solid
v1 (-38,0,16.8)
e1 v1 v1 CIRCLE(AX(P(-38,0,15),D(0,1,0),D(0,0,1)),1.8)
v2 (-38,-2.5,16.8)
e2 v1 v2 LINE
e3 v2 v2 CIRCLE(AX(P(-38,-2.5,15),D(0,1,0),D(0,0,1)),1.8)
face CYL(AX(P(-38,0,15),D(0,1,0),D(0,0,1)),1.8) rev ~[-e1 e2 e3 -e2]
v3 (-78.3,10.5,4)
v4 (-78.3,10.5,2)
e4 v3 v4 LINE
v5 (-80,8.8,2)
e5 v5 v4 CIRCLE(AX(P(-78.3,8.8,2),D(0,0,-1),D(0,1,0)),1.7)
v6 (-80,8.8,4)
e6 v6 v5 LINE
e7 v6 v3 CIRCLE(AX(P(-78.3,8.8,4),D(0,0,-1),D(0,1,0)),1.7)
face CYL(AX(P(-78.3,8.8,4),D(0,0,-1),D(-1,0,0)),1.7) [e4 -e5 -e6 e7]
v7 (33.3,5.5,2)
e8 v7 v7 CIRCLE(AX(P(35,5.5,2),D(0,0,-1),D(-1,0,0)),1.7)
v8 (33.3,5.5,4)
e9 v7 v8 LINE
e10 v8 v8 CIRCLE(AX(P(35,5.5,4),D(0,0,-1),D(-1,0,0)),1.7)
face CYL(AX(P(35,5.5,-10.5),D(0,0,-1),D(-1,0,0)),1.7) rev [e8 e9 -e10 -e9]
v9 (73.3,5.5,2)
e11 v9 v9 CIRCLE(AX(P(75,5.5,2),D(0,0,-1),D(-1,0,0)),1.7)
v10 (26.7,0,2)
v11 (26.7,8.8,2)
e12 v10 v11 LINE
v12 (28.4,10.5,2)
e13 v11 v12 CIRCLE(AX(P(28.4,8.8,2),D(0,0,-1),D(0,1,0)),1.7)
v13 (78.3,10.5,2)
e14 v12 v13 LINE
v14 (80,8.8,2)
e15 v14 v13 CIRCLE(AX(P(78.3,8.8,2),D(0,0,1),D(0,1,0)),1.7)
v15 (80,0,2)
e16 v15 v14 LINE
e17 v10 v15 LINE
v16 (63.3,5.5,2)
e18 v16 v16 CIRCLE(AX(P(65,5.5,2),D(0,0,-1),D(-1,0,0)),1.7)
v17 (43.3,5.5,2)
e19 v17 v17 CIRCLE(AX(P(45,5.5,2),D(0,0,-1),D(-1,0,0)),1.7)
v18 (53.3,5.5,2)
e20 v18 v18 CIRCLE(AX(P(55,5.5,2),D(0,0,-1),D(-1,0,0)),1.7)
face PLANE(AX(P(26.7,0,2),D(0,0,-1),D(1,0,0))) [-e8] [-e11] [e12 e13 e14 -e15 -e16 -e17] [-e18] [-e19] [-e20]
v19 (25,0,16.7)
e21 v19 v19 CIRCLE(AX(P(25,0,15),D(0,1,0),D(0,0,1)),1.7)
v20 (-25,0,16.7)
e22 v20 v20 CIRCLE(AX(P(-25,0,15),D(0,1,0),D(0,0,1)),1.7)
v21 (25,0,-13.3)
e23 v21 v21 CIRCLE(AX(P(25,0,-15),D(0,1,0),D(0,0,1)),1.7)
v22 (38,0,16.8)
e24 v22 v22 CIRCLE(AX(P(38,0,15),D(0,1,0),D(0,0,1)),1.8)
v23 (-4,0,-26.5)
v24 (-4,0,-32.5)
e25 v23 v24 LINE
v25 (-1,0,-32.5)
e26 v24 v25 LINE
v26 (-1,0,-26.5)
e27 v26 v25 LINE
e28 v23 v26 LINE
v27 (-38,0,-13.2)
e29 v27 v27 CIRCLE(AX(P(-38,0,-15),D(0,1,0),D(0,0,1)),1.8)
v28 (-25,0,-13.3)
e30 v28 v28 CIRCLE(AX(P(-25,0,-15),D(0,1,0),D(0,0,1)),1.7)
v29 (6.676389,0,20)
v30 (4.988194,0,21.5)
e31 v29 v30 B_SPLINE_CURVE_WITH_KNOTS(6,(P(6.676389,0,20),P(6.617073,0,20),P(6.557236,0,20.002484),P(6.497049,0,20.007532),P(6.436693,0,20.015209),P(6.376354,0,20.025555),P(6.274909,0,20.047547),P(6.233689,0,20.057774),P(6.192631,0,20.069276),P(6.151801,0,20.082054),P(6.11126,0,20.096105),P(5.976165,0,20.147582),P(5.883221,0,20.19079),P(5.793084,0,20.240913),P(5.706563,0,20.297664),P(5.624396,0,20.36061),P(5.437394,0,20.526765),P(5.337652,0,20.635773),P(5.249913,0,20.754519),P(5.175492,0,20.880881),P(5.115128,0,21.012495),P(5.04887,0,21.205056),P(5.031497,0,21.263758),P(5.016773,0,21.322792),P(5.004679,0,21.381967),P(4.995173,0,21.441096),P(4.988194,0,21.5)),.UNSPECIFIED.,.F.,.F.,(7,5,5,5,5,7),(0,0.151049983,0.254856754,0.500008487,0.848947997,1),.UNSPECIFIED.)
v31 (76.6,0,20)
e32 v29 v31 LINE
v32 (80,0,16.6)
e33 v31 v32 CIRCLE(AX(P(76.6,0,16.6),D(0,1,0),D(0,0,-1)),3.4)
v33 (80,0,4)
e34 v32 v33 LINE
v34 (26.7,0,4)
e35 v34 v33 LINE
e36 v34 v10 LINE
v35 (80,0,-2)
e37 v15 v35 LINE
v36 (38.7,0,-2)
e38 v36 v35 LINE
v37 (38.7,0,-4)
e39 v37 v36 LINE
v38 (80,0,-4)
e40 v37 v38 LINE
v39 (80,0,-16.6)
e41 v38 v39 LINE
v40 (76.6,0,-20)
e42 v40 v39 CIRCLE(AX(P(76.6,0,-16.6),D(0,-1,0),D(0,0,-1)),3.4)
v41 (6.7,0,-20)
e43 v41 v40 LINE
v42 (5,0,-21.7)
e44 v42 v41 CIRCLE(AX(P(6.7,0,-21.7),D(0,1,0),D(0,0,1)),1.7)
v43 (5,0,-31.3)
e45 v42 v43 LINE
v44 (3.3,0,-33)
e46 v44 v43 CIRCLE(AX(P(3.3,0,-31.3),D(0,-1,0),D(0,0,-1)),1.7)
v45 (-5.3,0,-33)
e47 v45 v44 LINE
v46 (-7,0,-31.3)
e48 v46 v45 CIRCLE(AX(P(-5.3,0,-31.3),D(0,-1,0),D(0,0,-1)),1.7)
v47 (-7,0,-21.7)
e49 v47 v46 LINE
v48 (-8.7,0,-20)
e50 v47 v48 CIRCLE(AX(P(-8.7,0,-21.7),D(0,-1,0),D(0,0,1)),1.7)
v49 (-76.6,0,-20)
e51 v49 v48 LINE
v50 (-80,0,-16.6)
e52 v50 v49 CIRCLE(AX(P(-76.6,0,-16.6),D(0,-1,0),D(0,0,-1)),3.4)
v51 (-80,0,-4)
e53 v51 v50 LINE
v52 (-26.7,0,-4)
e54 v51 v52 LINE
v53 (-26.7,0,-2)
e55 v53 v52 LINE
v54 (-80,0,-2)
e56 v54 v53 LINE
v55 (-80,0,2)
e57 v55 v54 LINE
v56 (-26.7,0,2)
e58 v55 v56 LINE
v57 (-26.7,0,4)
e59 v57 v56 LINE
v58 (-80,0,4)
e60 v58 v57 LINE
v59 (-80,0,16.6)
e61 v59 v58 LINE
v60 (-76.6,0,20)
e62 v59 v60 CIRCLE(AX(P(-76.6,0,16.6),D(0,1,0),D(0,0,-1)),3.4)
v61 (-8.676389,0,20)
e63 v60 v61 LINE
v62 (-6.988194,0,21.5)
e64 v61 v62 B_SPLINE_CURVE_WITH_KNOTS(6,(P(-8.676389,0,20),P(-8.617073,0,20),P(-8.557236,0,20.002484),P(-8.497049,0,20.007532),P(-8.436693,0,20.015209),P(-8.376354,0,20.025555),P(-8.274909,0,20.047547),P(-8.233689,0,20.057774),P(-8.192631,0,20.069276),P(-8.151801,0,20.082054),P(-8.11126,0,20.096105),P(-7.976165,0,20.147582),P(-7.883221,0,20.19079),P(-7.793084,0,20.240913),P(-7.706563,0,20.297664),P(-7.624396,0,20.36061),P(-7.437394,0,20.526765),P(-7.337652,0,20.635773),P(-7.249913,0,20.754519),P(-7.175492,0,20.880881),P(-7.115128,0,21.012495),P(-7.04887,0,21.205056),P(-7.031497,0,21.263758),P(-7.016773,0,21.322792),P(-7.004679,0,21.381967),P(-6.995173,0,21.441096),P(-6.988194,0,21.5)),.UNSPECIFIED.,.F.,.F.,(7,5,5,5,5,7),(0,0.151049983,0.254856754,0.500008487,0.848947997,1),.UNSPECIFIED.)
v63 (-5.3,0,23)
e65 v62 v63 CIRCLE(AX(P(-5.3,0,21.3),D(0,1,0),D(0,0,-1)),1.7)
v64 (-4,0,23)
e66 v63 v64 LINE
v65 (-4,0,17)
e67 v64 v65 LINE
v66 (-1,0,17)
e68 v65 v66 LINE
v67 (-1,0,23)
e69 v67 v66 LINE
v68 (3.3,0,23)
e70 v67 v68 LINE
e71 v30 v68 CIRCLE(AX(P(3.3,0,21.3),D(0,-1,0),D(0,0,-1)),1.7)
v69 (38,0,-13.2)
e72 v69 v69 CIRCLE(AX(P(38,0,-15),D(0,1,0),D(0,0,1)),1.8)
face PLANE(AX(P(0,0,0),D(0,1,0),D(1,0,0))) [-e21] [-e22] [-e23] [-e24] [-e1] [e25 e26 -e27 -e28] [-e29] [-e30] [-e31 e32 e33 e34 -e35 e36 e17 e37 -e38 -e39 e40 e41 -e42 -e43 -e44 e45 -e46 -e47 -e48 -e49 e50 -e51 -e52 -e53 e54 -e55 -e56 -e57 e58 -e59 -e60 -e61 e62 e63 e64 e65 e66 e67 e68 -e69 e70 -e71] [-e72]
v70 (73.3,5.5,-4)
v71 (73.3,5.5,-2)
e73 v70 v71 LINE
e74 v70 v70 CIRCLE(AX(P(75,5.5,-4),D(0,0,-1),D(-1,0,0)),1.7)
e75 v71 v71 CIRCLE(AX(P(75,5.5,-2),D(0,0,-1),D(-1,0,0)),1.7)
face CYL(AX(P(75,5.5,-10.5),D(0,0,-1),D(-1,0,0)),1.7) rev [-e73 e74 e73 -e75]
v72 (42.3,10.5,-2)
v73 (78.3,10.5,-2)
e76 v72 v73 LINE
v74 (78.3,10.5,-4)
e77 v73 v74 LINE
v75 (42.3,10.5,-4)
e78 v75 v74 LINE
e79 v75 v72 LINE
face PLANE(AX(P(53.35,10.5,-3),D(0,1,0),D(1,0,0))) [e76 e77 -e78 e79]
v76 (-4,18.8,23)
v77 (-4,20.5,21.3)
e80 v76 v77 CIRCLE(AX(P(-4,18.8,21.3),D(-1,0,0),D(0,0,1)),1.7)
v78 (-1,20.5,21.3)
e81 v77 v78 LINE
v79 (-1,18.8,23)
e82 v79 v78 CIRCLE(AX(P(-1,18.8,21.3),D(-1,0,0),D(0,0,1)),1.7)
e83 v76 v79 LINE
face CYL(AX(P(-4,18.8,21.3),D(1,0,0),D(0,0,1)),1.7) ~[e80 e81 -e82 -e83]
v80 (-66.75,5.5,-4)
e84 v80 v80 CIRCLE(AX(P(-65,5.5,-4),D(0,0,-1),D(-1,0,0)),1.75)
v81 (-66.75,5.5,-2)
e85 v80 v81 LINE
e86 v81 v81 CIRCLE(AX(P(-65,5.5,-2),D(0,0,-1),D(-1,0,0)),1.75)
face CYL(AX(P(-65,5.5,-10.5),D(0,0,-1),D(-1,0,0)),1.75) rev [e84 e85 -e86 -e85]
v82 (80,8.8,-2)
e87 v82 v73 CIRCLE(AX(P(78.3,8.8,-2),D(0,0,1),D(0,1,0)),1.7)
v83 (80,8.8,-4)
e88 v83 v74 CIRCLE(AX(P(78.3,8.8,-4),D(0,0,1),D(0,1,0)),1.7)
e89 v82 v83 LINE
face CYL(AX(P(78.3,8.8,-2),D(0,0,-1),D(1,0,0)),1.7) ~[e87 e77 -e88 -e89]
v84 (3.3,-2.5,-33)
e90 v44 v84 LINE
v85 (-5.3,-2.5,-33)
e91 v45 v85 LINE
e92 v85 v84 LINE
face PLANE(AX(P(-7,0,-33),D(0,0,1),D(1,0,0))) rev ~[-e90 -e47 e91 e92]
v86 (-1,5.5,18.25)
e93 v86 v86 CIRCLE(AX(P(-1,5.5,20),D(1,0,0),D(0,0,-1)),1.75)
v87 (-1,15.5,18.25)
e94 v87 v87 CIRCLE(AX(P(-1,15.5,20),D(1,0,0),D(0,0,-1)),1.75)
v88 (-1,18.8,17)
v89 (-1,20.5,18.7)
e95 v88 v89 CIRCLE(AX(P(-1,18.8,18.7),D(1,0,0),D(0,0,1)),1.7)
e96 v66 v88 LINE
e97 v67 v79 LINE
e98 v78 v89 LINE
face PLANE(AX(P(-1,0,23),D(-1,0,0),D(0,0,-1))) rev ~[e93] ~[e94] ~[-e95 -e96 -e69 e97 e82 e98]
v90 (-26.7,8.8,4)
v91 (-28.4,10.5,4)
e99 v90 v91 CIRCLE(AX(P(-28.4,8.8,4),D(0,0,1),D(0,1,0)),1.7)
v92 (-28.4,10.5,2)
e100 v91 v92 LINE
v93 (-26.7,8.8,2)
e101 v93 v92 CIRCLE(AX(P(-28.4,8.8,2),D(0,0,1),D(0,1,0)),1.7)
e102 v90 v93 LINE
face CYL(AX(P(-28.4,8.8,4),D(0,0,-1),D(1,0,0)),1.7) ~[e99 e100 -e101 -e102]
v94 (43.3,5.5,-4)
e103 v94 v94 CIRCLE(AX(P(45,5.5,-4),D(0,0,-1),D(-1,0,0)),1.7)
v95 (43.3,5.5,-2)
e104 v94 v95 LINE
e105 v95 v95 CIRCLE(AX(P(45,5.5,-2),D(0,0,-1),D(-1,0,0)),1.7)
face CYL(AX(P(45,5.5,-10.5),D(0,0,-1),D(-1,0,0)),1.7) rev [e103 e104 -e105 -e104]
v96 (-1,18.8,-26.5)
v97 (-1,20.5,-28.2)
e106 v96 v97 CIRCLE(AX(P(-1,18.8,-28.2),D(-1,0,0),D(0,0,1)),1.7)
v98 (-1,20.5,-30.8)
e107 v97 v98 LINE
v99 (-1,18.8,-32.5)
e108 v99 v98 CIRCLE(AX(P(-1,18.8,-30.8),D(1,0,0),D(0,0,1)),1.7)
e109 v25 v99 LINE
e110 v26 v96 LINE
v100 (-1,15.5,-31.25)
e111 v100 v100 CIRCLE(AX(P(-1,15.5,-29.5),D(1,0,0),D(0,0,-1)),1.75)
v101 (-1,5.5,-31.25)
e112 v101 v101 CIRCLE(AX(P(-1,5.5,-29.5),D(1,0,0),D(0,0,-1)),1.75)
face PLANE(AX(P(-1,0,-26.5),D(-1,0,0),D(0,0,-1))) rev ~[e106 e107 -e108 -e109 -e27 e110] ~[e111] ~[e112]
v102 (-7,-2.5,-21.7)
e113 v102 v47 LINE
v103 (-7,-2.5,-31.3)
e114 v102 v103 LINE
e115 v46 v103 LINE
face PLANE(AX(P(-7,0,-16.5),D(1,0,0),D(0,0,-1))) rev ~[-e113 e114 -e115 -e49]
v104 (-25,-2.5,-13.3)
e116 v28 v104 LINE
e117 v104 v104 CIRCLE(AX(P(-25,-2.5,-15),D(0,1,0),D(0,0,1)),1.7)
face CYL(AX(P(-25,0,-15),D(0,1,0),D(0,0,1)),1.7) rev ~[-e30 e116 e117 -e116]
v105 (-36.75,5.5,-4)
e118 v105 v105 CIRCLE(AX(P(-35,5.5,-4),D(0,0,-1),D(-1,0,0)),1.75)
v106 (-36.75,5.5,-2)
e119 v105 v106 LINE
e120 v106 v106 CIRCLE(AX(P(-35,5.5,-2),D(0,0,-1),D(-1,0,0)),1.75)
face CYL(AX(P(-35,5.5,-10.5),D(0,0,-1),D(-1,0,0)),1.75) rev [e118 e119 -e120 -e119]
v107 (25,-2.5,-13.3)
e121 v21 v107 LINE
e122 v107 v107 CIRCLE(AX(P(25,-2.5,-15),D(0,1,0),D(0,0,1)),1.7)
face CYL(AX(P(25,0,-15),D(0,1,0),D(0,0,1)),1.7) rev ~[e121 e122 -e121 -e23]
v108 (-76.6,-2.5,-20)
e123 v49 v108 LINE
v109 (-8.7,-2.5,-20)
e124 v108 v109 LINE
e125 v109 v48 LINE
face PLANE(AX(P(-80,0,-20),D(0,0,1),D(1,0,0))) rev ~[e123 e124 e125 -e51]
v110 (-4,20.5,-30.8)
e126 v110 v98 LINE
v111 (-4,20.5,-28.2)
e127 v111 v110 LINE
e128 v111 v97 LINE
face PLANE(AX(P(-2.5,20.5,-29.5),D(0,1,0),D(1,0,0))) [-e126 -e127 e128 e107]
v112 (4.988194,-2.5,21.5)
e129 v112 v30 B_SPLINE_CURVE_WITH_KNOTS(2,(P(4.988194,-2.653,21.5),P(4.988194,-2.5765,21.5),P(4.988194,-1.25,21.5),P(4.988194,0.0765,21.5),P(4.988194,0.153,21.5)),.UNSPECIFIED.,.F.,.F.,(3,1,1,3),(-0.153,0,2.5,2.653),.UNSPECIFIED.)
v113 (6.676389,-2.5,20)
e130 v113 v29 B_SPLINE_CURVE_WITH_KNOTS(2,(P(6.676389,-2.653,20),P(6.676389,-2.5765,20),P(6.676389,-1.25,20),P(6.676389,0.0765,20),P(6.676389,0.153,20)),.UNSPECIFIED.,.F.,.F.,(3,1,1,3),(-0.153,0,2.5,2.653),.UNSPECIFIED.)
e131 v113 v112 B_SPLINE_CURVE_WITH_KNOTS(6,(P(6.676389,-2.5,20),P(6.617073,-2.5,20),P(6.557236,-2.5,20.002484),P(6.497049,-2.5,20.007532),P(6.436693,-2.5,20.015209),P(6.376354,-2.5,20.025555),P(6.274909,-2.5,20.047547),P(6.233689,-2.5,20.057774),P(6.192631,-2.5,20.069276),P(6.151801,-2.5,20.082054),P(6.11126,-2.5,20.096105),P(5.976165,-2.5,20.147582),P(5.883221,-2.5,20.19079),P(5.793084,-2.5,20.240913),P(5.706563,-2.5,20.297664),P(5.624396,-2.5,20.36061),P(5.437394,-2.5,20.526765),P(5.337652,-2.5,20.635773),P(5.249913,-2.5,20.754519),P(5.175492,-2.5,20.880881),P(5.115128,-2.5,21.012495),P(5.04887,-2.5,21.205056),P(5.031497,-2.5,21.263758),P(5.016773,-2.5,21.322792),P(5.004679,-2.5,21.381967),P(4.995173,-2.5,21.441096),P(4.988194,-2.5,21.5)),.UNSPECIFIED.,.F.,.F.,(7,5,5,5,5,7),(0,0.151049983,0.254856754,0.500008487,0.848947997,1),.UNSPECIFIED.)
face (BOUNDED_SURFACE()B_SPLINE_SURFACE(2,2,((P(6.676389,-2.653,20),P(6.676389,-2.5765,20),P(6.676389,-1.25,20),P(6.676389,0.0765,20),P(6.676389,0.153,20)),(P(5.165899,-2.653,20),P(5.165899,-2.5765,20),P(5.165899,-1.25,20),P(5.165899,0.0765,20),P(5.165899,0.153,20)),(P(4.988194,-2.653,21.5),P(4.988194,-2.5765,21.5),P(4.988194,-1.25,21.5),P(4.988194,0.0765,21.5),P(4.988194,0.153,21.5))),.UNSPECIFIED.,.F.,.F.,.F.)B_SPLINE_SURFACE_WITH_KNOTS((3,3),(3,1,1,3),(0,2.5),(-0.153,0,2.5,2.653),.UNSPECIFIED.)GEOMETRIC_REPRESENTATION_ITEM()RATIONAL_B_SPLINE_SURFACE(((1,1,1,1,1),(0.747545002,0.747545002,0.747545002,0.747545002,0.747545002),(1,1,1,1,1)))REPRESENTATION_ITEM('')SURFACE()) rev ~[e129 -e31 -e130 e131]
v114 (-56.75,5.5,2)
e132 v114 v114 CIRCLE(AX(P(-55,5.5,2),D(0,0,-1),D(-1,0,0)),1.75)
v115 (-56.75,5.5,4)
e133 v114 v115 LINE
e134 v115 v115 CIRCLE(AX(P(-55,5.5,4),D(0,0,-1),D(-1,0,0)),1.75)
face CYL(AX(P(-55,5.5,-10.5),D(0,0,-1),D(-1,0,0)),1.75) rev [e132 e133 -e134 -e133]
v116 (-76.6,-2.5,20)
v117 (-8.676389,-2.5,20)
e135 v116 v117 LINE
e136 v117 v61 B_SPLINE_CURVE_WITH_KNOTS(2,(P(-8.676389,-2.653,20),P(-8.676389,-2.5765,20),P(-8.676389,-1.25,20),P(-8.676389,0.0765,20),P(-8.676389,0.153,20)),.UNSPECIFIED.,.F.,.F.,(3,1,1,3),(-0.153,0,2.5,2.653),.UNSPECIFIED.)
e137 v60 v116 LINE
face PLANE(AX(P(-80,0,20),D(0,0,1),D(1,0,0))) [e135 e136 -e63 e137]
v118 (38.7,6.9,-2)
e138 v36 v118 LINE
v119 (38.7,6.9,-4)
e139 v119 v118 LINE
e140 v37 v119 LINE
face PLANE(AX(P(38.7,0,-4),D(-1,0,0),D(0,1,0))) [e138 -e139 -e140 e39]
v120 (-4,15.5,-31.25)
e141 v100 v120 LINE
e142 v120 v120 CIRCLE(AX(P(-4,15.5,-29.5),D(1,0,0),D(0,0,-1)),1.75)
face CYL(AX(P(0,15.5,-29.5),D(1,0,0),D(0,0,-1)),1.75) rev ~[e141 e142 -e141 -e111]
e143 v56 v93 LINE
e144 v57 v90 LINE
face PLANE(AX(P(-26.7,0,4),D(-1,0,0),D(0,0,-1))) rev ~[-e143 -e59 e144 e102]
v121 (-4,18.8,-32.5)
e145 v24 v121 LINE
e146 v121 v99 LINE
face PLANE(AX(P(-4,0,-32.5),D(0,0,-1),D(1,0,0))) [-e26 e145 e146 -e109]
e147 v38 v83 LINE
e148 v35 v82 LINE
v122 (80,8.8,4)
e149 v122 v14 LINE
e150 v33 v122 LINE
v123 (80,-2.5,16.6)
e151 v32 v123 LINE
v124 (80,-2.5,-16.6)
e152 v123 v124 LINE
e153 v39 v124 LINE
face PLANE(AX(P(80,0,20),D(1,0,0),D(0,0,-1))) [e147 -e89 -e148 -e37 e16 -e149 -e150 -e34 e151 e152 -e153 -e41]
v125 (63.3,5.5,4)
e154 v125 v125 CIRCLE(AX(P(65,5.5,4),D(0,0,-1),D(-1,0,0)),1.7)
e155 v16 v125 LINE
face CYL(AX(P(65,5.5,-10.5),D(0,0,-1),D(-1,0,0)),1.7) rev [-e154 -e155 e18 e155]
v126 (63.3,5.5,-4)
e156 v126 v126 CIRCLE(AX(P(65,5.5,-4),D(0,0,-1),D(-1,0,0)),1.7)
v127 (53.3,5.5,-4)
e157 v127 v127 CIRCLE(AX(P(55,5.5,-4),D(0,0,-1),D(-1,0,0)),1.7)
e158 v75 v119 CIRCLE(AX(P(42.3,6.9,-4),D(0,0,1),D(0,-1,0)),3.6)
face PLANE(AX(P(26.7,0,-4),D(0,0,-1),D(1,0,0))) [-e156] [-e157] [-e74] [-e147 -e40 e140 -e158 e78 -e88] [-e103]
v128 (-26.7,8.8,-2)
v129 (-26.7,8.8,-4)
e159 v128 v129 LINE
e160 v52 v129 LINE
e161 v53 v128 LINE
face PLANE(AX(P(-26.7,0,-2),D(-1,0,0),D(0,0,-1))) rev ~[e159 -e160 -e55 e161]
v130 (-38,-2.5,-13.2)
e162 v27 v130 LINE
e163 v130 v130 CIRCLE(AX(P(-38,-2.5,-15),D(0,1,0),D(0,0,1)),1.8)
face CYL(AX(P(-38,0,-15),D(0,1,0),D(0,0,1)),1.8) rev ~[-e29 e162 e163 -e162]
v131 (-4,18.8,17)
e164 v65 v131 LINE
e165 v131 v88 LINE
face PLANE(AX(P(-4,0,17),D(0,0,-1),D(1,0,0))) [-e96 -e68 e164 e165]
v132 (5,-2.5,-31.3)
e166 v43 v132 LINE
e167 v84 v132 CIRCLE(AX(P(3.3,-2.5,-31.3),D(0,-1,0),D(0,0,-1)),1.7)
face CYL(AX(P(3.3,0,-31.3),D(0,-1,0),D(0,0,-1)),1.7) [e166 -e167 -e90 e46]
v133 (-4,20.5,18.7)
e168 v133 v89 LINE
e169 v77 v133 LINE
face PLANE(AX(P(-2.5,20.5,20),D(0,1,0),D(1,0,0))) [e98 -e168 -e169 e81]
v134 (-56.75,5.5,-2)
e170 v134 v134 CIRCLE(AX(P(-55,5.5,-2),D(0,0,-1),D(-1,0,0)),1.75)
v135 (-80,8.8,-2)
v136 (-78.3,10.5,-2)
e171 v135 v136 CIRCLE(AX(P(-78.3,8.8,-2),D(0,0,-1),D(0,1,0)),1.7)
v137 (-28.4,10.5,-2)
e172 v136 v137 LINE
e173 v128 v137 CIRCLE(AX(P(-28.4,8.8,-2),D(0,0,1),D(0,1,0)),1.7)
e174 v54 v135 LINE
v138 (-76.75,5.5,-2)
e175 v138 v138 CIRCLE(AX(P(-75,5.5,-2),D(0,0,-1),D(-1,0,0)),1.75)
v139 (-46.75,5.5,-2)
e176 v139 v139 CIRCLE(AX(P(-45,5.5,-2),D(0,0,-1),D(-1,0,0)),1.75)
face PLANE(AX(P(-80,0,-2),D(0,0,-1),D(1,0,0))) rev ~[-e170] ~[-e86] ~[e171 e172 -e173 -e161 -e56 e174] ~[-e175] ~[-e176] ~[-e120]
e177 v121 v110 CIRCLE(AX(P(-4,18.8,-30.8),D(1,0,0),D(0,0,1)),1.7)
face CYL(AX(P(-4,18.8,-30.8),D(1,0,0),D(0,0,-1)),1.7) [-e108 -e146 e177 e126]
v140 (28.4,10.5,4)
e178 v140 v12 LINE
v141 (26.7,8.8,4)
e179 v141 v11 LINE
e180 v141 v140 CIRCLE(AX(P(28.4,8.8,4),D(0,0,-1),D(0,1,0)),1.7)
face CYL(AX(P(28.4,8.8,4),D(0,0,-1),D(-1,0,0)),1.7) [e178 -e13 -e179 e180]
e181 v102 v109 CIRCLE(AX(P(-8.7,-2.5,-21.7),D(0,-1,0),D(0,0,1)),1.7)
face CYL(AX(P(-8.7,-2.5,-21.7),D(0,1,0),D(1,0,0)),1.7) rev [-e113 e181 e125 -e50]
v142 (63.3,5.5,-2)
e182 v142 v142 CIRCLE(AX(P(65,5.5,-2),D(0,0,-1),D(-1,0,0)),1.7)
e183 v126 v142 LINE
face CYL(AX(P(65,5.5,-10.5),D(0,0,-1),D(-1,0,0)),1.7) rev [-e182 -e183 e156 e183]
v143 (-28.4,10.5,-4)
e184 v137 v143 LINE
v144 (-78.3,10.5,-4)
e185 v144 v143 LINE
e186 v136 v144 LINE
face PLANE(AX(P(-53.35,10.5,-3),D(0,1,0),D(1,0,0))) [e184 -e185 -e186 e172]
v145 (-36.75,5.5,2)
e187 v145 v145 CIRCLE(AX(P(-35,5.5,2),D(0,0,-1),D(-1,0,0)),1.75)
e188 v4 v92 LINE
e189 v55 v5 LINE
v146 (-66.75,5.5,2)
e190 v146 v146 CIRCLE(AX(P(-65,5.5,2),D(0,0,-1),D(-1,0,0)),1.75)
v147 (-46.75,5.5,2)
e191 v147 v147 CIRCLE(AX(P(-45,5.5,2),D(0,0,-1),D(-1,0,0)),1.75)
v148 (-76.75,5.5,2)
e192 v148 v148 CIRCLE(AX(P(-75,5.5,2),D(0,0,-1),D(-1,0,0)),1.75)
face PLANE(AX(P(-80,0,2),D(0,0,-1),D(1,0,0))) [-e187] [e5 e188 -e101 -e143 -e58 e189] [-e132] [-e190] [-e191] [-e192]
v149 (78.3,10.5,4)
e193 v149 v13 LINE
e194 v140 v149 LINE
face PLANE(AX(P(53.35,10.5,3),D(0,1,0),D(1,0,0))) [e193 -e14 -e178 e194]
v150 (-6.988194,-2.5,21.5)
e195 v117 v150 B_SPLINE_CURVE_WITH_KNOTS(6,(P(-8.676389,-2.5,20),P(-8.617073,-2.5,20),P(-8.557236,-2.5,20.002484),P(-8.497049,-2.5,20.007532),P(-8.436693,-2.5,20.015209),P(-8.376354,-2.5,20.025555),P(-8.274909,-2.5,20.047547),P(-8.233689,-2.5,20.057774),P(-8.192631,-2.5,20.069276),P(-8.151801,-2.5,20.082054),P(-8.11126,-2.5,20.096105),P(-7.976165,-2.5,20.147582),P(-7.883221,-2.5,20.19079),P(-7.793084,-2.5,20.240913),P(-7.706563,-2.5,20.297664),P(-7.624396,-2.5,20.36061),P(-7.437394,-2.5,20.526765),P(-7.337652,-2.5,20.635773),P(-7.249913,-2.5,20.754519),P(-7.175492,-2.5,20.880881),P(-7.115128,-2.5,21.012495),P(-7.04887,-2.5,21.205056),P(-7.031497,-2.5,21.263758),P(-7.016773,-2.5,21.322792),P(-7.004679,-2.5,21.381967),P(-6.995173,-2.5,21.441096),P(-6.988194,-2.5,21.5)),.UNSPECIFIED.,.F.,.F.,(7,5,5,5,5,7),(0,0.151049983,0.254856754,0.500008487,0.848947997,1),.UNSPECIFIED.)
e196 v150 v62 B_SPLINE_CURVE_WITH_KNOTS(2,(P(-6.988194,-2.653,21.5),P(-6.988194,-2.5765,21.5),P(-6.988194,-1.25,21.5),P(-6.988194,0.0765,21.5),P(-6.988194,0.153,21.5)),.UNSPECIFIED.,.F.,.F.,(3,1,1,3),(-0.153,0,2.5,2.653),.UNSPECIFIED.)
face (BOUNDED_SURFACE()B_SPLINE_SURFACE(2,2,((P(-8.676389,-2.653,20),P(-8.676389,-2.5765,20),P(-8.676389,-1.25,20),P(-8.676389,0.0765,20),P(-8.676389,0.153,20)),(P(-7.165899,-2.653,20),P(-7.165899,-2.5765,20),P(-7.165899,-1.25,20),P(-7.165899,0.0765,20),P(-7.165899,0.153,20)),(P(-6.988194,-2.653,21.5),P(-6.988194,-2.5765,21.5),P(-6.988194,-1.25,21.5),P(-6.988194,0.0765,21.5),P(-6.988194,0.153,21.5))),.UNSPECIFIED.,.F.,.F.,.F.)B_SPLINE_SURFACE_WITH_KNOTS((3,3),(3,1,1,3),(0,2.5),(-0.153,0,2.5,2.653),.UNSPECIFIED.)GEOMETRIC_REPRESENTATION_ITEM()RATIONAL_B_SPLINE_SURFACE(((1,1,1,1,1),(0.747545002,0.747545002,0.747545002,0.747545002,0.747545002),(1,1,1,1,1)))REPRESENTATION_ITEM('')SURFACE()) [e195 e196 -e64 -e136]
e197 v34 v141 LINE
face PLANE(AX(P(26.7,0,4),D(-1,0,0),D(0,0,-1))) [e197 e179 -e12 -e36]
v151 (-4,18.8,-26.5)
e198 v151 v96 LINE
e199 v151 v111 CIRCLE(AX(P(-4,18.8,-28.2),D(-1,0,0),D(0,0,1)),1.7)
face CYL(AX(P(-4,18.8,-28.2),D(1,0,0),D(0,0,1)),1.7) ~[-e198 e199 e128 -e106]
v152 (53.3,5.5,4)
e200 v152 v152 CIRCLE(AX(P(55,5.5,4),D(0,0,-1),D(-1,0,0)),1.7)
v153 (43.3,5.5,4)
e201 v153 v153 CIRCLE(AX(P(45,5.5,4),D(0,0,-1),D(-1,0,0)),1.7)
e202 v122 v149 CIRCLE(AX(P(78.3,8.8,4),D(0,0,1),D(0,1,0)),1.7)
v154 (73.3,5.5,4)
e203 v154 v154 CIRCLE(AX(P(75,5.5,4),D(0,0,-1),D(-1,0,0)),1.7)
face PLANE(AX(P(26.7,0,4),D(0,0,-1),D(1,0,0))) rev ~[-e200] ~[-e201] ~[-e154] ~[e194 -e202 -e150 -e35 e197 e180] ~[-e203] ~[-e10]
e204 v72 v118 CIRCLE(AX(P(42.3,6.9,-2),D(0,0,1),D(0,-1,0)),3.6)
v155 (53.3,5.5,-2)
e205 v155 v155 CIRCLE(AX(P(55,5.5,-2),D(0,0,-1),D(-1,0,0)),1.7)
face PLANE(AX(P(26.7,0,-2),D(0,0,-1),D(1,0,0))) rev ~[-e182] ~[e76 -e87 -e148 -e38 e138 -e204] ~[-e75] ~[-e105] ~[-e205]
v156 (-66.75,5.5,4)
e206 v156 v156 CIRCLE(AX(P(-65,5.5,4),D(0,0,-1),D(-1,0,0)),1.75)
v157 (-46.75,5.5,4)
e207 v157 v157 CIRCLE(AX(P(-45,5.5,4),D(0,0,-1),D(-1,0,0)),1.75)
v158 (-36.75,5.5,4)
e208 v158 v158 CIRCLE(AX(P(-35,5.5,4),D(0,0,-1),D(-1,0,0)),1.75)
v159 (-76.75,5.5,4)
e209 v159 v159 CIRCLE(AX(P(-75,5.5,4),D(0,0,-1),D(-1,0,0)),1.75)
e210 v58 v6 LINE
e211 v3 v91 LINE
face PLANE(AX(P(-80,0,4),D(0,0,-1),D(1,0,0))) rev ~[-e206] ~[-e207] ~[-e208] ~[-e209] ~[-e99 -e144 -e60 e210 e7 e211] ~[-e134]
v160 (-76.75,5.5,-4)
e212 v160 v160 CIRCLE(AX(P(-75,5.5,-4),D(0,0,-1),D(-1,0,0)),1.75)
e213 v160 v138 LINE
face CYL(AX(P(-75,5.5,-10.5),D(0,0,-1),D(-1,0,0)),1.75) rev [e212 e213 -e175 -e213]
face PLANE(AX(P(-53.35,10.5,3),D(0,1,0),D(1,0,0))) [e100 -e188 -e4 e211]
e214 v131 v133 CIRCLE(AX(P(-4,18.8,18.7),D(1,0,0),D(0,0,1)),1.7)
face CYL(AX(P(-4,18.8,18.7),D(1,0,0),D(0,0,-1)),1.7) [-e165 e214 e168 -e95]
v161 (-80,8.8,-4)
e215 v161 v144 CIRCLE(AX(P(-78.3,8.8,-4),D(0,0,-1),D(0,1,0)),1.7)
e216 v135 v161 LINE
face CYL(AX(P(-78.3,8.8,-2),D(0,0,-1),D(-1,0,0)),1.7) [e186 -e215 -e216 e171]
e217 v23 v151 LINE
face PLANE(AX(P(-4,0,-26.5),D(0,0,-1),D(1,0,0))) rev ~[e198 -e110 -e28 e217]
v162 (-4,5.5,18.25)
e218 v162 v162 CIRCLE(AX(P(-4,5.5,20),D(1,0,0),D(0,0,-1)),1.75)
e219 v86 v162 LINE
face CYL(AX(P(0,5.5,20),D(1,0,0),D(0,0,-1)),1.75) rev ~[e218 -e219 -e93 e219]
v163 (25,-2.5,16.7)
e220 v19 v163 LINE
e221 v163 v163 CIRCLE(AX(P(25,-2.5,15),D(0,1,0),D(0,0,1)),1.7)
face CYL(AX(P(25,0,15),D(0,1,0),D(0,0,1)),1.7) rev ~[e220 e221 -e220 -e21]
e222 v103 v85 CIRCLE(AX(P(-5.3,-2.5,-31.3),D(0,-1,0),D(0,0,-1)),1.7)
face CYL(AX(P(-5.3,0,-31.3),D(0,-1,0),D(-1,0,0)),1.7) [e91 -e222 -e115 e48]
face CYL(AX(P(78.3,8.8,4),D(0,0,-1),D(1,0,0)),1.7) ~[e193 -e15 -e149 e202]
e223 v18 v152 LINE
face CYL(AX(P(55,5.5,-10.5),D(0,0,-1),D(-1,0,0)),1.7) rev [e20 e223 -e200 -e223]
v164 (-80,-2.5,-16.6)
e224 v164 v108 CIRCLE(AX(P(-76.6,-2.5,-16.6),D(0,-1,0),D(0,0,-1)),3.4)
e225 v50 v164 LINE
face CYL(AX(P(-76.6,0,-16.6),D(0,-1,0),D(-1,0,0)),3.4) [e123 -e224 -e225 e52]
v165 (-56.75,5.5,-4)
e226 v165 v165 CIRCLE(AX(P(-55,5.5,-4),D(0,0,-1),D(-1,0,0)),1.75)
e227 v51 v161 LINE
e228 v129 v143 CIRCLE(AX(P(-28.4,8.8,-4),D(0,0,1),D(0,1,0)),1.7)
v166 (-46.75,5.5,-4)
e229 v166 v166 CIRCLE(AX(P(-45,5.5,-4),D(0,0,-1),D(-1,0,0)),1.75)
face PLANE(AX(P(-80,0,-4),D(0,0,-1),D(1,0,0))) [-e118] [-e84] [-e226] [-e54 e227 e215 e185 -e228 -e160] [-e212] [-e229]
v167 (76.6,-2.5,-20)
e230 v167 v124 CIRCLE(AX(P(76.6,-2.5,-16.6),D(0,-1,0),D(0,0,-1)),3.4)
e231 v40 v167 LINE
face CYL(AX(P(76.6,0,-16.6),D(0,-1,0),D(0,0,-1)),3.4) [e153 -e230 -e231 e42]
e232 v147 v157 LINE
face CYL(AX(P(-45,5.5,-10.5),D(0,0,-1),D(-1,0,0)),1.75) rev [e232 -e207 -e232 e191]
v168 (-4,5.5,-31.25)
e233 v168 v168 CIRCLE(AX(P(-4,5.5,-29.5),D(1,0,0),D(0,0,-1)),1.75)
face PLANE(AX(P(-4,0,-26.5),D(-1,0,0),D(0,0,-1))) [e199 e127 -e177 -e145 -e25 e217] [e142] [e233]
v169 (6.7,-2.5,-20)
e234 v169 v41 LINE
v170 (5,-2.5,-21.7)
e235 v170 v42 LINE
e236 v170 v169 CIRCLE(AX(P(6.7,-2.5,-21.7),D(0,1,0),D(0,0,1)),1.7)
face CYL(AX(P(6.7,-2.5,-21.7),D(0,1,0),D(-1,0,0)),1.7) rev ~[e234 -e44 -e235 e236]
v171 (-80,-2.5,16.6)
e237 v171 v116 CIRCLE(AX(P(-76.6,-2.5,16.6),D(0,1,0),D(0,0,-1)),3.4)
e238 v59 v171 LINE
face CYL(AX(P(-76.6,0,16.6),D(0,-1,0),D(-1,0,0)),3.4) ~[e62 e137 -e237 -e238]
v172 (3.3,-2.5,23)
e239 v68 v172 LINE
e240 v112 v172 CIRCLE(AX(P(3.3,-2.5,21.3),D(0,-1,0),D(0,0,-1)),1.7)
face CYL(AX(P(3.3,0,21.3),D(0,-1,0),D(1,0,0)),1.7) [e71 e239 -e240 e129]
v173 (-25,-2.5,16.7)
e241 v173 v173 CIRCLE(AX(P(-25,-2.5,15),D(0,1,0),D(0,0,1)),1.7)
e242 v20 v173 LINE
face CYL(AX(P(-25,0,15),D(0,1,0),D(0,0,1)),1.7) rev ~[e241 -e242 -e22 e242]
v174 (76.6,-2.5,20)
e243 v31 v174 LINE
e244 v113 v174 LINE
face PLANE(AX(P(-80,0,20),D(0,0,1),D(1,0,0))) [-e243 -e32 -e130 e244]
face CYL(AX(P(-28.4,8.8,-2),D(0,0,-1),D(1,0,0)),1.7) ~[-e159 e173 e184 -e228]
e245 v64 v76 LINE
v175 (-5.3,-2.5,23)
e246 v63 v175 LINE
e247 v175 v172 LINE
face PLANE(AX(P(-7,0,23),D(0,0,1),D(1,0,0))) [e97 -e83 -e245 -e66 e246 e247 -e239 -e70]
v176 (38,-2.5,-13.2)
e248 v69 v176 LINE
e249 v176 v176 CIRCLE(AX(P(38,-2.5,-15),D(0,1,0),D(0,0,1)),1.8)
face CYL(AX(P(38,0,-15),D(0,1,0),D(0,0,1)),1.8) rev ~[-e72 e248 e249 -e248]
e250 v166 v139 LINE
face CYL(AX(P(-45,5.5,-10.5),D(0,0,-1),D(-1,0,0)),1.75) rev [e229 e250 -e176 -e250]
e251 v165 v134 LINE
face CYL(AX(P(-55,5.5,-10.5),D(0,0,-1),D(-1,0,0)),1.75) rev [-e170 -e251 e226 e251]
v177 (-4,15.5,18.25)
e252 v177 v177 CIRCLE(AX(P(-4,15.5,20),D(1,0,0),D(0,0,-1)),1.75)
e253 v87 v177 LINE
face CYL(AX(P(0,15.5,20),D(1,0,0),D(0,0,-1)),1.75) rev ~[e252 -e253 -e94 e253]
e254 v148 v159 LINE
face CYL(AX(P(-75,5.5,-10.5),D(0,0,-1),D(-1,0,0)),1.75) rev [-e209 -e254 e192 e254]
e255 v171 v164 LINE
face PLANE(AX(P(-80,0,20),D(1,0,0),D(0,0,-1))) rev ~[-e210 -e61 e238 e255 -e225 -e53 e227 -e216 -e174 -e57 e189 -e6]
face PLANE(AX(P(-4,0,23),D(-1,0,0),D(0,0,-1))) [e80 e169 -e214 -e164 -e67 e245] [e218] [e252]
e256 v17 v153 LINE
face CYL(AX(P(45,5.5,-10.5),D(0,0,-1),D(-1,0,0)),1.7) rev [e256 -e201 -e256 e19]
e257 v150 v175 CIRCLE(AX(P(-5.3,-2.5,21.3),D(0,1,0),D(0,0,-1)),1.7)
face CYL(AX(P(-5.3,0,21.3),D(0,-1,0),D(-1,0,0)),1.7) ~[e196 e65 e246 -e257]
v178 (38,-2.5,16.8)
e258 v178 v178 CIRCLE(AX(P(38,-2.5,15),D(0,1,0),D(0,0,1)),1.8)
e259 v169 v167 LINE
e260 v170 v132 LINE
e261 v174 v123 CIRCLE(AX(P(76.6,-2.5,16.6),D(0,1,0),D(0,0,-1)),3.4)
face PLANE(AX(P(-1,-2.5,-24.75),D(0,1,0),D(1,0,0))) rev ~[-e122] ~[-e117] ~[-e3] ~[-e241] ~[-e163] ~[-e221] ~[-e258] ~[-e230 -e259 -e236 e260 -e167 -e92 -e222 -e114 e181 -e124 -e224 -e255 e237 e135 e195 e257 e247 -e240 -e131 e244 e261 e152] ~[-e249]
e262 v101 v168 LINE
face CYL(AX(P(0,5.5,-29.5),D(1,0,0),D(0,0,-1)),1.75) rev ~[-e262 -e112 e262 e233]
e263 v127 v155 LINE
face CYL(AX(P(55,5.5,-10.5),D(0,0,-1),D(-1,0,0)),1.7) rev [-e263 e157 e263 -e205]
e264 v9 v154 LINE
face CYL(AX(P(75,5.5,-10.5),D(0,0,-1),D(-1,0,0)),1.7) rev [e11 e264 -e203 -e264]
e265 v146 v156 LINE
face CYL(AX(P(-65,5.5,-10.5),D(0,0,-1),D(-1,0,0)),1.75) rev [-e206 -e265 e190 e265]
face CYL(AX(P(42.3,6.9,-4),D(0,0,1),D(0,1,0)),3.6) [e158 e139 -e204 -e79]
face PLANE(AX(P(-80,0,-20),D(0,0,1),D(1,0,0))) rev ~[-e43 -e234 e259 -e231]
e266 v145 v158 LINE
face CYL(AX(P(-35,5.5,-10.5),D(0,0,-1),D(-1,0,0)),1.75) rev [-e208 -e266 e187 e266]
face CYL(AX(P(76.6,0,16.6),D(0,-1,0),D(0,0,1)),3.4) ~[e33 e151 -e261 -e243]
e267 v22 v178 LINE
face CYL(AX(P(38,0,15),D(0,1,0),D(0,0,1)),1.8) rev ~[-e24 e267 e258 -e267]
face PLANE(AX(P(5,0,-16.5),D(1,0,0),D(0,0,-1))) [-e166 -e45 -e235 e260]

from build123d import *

# Parameters (mm, degrees)
SKETCH_1_W               = 160
SKETCH_1_H               = 40
SKETCH_1_R               = 1.7
EXTRUDE_2_DEPTH          = 2.5
FILLET_2_R               = 3.4
SKETCH_2_W               = 12
SKETCH_2_H               = 16.5
SKETCH_2_H_2             = 6
EXTRUDE_3_DEPTH          = 2.5
FILLET_4_R               = 1.7
FILLET_5_R               = 1.7
SKETCH_3_W               = 3
SKETCH_3_H               = 6
EXTRUDE_4_DEPTH          = 20.5
SKETCH_4_R               = 1.75
CUT_EXTRUDE_1_DEPTH      = 20.5
FILLET_6_R               = 1.7
SKETCH_5_W               = 53.3
SKETCH_5_H               = 2
EXTRUDE_6_DEPTH          = 10.5
CUT_EXTRUDE_2_DEPTH      = 10.5
CUT_EXTRUDE_2_DEPTH_BACK = 10.5
SKETCH_6_R               = 1.75
SKETCH_6_R_2             = 1.7
FILLET_7_R               = 1.7
SKETCH_7_R               = 1.8
CUT_EXTRUDE_3_DEPTH      = 10
SKETCH_8_W               = 10
SKETCH_8_H               = 10.5
SKETCH_8_W_2             = 2
CUT_EXTRUDE_4_DEPTH      = 2
FILLET_8_R               = 3.6


with BuildPart() as part:
    # 草图1 → 凸台-拉伸2 (new body)
    with BuildSketch(Plane(origin=(0, 0, 0), x_dir=(1, 0, 0), z_dir=(0, 1, 0))):
        Rectangle(SKETCH_1_W, SKETCH_1_H)
        with Locations(Location((-25, 15, 0), (0, 0, 270))):
            Circle(SKETCH_1_R, mode=Mode.SUBTRACT)
        with Locations(Location((25, 15, 0), (0, 0, 270))):
            Circle(SKETCH_1_R, mode=Mode.SUBTRACT)
        with Locations(Location((25, -15, 0), (0, 0, 270))):
            Circle(SKETCH_1_R, mode=Mode.SUBTRACT)
        with Locations(Location((-25, -15, 0), (0, 0, 270))):
            Circle(SKETCH_1_R, mode=Mode.SUBTRACT)
    extrude(amount=-EXTRUDE_2_DEPTH)

    # 圆角2
    fillet_2_edges = [part.edges().sort_by_distance(p)[0] for p in [
        (80, -1.25, 20),
        (-80, -1.25, 20),
        (-80, -1.25, -20),
        (80, -1.25, -20),
    ]]
    fillet(fillet_2_edges, radius=FILLET_2_R)

    # 草图2 → 凸台-拉伸3 (add)
    with BuildSketch(Plane(origin=(0, 0, 0), x_dir=(1, 0, 0), z_dir=(0, 1, 0))):
        with Locations((-1, 24.75)):
            Rectangle(SKETCH_2_W, SKETCH_2_H)
        with Locations((-1, -20)):
            Rectangle(SKETCH_2_W, SKETCH_2_H_2)
    extrude(amount=-EXTRUDE_3_DEPTH)

    # 圆角4
    fillet_4_edges = [part.edges().sort_by_distance(p)[0] for p in [
        (-7, -1.25, -33),
        (5, -1.25, -33),
        (-7, -1.25, 23),
        (5, -1.25, 23),
    ]]
    fillet(fillet_4_edges, radius=FILLET_4_R)

    # 圆角5
    fillet_5_edges = [part.edges().sort_by_distance(p)[0] for p in [
        (5, -1.25, 20),
        (-7, -1.25, 20),
        (5, -1.25, -20),
        (-7, -1.25, -20),
    ]]
    fillet(fillet_5_edges, radius=FILLET_5_R)

    # 草图3 → 凸台-拉伸4 (add)
    with BuildSketch(Plane(origin=(0, 0, 0), x_dir=(1, 0, 0), z_dir=(0, 1, 0))):
        with Locations((-2.5, 29.5)):
            Rectangle(SKETCH_3_W, SKETCH_3_H)
        with Locations((-2.5, -20)):
            Rectangle(SKETCH_3_W, SKETCH_3_H)
    extrude(amount=EXTRUDE_4_DEPTH)

    # 草图4 → 切除-拉伸1 (cut)
    with BuildSketch(Plane(origin=(0, 0, 0), x_dir=(0, 0, -1), z_dir=(1, 0, 0))):
        with Locations((-20, 15.5)):
            Circle(SKETCH_4_R)
        with Locations((-20, 5.5)):
            Circle(SKETCH_4_R)
        with Locations((29.5, 15.5)):
            Circle(SKETCH_4_R)
        with Locations((29.5, 5.5)):
            Circle(SKETCH_4_R)
    extrude(amount=-CUT_EXTRUDE_1_DEPTH, mode=Mode.SUBTRACT)

    # 圆角6
    fillet_6_edges = [part.edges().sort_by_distance(p)[0] for p in [
        (-2.5, 20.5, -32.5),
        (-2.5, 20.5, -26.5),
        (-2.5, 20.5, 17),
        (-2.5, 20.5, 23),
    ]]
    fillet(fillet_6_edges, radius=FILLET_6_R)

    # 草图5 → 凸台-拉伸6 (add)
    with BuildSketch(Plane(origin=(0, 0, 0), x_dir=(1, 0, 0), z_dir=(0, 1, 0))):
        with Locations((-53.35, -3)):
            Rectangle(SKETCH_5_W, SKETCH_5_H)
        with Locations((-53.35, 3)):
            Rectangle(SKETCH_5_W, SKETCH_5_H)
        with Locations((53.35, 3)):
            Rectangle(SKETCH_5_W, SKETCH_5_H)
        with Locations((53.35, -3)):
            Rectangle(SKETCH_5_W, SKETCH_5_H)
    extrude(amount=EXTRUDE_6_DEPTH)

    # 草图6 → 切除-拉伸2 (cut, two sides: drawn at the far end of the back side and taken through both)
    with BuildSketch(Plane.XY.offset(-CUT_EXTRUDE_2_DEPTH_BACK)):
        with Locations(Location((-75, 5.5, 0), (0, 0, 180))):
            Circle(SKETCH_6_R)
        with Locations(Location((-65, 5.5, 0), (0, 0, 180))):
            Circle(SKETCH_6_R)
        with Locations(Location((-55, 5.5, 0), (0, 0, 180))):
            Circle(SKETCH_6_R)
        with Locations(Location((-45, 5.5, 0), (0, 0, 180))):
            Circle(SKETCH_6_R)
        with Locations(Location((-35, 5.5, 0), (0, 0, 180))):
            Circle(SKETCH_6_R)
        with Locations(Location((75, 5.5, 0), (0, 0, 180))):
            Circle(SKETCH_6_R_2)
        with Locations(Location((65, 5.5, 0), (0, 0, 180))):
            Circle(SKETCH_6_R_2)
        with Locations(Location((55, 5.5, 0), (0, 0, 180))):
            Circle(SKETCH_6_R_2)
        with Locations(Location((45, 5.5, 0), (0, 0, 180))):
            Circle(SKETCH_6_R_2)
        with Locations(Location((35, 5.5, 0), (0, 0, 180))):
            Circle(SKETCH_6_R_2)
    extrude(amount=CUT_EXTRUDE_2_DEPTH + CUT_EXTRUDE_2_DEPTH_BACK, mode=Mode.SUBTRACT)

    # 圆角7
    fillet_7_edges = [part.edges().sort_by_distance(p)[0] for p in [
        (-80, 10.5, 3),
        (-26.7, 10.5, 3),
        (-80, 10.5, -3),
        (-26.7, 10.5, -3),
        (80, 10.5, -3),
        (26.7, 10.5, -3),
        (80, 10.5, 3),
        (26.7, 10.5, 3),
    ]]
    fillet(fillet_7_edges, radius=FILLET_7_R)

    # 草图7 → 切除-拉伸3 (cut)
    with BuildSketch(Plane(origin=(0, 0, 0), x_dir=(1, 0, 0), z_dir=(0, 1, 0))):
        with Locations(Location((38, 15, 0), (0, 0, 270))):
            Circle(SKETCH_7_R)
        with Locations(Location((38, -15, 0), (0, 0, 270))):
            Circle(SKETCH_7_R)
        with Locations(Location((-38, 15, 0), (0, 0, 270))):
            Circle(SKETCH_7_R)
        with Locations(Location((-38, -15, 0), (0, 0, 270))):
            Circle(SKETCH_7_R)
    extrude(amount=-CUT_EXTRUDE_3_DEPTH, mode=Mode.SUBTRACT)

    # 草图8 → 切除-拉伸4 (cut)
    with BuildSketch(Plane(origin=(0, 0, -4), x_dir=(-1, 0, 0), z_dir=(0, 0, -1))):
        with Locations((-31.7, 5.25)):
            Rectangle(SKETCH_8_W, SKETCH_8_H)
        with Locations((-37.7, 5.25)):
            Rectangle(SKETCH_8_W_2, SKETCH_8_H)
    extrude(amount=-CUT_EXTRUDE_4_DEPTH, mode=Mode.SUBTRACT)

    # 圆角8
    fillet_8_edges = [part.edges().sort_by_distance(p)[0] for p in [
        (38.7, 10.5, -3),
    ]]
    fillet(fillet_8_edges, radius=FILLET_8_R)


solid = part.part
